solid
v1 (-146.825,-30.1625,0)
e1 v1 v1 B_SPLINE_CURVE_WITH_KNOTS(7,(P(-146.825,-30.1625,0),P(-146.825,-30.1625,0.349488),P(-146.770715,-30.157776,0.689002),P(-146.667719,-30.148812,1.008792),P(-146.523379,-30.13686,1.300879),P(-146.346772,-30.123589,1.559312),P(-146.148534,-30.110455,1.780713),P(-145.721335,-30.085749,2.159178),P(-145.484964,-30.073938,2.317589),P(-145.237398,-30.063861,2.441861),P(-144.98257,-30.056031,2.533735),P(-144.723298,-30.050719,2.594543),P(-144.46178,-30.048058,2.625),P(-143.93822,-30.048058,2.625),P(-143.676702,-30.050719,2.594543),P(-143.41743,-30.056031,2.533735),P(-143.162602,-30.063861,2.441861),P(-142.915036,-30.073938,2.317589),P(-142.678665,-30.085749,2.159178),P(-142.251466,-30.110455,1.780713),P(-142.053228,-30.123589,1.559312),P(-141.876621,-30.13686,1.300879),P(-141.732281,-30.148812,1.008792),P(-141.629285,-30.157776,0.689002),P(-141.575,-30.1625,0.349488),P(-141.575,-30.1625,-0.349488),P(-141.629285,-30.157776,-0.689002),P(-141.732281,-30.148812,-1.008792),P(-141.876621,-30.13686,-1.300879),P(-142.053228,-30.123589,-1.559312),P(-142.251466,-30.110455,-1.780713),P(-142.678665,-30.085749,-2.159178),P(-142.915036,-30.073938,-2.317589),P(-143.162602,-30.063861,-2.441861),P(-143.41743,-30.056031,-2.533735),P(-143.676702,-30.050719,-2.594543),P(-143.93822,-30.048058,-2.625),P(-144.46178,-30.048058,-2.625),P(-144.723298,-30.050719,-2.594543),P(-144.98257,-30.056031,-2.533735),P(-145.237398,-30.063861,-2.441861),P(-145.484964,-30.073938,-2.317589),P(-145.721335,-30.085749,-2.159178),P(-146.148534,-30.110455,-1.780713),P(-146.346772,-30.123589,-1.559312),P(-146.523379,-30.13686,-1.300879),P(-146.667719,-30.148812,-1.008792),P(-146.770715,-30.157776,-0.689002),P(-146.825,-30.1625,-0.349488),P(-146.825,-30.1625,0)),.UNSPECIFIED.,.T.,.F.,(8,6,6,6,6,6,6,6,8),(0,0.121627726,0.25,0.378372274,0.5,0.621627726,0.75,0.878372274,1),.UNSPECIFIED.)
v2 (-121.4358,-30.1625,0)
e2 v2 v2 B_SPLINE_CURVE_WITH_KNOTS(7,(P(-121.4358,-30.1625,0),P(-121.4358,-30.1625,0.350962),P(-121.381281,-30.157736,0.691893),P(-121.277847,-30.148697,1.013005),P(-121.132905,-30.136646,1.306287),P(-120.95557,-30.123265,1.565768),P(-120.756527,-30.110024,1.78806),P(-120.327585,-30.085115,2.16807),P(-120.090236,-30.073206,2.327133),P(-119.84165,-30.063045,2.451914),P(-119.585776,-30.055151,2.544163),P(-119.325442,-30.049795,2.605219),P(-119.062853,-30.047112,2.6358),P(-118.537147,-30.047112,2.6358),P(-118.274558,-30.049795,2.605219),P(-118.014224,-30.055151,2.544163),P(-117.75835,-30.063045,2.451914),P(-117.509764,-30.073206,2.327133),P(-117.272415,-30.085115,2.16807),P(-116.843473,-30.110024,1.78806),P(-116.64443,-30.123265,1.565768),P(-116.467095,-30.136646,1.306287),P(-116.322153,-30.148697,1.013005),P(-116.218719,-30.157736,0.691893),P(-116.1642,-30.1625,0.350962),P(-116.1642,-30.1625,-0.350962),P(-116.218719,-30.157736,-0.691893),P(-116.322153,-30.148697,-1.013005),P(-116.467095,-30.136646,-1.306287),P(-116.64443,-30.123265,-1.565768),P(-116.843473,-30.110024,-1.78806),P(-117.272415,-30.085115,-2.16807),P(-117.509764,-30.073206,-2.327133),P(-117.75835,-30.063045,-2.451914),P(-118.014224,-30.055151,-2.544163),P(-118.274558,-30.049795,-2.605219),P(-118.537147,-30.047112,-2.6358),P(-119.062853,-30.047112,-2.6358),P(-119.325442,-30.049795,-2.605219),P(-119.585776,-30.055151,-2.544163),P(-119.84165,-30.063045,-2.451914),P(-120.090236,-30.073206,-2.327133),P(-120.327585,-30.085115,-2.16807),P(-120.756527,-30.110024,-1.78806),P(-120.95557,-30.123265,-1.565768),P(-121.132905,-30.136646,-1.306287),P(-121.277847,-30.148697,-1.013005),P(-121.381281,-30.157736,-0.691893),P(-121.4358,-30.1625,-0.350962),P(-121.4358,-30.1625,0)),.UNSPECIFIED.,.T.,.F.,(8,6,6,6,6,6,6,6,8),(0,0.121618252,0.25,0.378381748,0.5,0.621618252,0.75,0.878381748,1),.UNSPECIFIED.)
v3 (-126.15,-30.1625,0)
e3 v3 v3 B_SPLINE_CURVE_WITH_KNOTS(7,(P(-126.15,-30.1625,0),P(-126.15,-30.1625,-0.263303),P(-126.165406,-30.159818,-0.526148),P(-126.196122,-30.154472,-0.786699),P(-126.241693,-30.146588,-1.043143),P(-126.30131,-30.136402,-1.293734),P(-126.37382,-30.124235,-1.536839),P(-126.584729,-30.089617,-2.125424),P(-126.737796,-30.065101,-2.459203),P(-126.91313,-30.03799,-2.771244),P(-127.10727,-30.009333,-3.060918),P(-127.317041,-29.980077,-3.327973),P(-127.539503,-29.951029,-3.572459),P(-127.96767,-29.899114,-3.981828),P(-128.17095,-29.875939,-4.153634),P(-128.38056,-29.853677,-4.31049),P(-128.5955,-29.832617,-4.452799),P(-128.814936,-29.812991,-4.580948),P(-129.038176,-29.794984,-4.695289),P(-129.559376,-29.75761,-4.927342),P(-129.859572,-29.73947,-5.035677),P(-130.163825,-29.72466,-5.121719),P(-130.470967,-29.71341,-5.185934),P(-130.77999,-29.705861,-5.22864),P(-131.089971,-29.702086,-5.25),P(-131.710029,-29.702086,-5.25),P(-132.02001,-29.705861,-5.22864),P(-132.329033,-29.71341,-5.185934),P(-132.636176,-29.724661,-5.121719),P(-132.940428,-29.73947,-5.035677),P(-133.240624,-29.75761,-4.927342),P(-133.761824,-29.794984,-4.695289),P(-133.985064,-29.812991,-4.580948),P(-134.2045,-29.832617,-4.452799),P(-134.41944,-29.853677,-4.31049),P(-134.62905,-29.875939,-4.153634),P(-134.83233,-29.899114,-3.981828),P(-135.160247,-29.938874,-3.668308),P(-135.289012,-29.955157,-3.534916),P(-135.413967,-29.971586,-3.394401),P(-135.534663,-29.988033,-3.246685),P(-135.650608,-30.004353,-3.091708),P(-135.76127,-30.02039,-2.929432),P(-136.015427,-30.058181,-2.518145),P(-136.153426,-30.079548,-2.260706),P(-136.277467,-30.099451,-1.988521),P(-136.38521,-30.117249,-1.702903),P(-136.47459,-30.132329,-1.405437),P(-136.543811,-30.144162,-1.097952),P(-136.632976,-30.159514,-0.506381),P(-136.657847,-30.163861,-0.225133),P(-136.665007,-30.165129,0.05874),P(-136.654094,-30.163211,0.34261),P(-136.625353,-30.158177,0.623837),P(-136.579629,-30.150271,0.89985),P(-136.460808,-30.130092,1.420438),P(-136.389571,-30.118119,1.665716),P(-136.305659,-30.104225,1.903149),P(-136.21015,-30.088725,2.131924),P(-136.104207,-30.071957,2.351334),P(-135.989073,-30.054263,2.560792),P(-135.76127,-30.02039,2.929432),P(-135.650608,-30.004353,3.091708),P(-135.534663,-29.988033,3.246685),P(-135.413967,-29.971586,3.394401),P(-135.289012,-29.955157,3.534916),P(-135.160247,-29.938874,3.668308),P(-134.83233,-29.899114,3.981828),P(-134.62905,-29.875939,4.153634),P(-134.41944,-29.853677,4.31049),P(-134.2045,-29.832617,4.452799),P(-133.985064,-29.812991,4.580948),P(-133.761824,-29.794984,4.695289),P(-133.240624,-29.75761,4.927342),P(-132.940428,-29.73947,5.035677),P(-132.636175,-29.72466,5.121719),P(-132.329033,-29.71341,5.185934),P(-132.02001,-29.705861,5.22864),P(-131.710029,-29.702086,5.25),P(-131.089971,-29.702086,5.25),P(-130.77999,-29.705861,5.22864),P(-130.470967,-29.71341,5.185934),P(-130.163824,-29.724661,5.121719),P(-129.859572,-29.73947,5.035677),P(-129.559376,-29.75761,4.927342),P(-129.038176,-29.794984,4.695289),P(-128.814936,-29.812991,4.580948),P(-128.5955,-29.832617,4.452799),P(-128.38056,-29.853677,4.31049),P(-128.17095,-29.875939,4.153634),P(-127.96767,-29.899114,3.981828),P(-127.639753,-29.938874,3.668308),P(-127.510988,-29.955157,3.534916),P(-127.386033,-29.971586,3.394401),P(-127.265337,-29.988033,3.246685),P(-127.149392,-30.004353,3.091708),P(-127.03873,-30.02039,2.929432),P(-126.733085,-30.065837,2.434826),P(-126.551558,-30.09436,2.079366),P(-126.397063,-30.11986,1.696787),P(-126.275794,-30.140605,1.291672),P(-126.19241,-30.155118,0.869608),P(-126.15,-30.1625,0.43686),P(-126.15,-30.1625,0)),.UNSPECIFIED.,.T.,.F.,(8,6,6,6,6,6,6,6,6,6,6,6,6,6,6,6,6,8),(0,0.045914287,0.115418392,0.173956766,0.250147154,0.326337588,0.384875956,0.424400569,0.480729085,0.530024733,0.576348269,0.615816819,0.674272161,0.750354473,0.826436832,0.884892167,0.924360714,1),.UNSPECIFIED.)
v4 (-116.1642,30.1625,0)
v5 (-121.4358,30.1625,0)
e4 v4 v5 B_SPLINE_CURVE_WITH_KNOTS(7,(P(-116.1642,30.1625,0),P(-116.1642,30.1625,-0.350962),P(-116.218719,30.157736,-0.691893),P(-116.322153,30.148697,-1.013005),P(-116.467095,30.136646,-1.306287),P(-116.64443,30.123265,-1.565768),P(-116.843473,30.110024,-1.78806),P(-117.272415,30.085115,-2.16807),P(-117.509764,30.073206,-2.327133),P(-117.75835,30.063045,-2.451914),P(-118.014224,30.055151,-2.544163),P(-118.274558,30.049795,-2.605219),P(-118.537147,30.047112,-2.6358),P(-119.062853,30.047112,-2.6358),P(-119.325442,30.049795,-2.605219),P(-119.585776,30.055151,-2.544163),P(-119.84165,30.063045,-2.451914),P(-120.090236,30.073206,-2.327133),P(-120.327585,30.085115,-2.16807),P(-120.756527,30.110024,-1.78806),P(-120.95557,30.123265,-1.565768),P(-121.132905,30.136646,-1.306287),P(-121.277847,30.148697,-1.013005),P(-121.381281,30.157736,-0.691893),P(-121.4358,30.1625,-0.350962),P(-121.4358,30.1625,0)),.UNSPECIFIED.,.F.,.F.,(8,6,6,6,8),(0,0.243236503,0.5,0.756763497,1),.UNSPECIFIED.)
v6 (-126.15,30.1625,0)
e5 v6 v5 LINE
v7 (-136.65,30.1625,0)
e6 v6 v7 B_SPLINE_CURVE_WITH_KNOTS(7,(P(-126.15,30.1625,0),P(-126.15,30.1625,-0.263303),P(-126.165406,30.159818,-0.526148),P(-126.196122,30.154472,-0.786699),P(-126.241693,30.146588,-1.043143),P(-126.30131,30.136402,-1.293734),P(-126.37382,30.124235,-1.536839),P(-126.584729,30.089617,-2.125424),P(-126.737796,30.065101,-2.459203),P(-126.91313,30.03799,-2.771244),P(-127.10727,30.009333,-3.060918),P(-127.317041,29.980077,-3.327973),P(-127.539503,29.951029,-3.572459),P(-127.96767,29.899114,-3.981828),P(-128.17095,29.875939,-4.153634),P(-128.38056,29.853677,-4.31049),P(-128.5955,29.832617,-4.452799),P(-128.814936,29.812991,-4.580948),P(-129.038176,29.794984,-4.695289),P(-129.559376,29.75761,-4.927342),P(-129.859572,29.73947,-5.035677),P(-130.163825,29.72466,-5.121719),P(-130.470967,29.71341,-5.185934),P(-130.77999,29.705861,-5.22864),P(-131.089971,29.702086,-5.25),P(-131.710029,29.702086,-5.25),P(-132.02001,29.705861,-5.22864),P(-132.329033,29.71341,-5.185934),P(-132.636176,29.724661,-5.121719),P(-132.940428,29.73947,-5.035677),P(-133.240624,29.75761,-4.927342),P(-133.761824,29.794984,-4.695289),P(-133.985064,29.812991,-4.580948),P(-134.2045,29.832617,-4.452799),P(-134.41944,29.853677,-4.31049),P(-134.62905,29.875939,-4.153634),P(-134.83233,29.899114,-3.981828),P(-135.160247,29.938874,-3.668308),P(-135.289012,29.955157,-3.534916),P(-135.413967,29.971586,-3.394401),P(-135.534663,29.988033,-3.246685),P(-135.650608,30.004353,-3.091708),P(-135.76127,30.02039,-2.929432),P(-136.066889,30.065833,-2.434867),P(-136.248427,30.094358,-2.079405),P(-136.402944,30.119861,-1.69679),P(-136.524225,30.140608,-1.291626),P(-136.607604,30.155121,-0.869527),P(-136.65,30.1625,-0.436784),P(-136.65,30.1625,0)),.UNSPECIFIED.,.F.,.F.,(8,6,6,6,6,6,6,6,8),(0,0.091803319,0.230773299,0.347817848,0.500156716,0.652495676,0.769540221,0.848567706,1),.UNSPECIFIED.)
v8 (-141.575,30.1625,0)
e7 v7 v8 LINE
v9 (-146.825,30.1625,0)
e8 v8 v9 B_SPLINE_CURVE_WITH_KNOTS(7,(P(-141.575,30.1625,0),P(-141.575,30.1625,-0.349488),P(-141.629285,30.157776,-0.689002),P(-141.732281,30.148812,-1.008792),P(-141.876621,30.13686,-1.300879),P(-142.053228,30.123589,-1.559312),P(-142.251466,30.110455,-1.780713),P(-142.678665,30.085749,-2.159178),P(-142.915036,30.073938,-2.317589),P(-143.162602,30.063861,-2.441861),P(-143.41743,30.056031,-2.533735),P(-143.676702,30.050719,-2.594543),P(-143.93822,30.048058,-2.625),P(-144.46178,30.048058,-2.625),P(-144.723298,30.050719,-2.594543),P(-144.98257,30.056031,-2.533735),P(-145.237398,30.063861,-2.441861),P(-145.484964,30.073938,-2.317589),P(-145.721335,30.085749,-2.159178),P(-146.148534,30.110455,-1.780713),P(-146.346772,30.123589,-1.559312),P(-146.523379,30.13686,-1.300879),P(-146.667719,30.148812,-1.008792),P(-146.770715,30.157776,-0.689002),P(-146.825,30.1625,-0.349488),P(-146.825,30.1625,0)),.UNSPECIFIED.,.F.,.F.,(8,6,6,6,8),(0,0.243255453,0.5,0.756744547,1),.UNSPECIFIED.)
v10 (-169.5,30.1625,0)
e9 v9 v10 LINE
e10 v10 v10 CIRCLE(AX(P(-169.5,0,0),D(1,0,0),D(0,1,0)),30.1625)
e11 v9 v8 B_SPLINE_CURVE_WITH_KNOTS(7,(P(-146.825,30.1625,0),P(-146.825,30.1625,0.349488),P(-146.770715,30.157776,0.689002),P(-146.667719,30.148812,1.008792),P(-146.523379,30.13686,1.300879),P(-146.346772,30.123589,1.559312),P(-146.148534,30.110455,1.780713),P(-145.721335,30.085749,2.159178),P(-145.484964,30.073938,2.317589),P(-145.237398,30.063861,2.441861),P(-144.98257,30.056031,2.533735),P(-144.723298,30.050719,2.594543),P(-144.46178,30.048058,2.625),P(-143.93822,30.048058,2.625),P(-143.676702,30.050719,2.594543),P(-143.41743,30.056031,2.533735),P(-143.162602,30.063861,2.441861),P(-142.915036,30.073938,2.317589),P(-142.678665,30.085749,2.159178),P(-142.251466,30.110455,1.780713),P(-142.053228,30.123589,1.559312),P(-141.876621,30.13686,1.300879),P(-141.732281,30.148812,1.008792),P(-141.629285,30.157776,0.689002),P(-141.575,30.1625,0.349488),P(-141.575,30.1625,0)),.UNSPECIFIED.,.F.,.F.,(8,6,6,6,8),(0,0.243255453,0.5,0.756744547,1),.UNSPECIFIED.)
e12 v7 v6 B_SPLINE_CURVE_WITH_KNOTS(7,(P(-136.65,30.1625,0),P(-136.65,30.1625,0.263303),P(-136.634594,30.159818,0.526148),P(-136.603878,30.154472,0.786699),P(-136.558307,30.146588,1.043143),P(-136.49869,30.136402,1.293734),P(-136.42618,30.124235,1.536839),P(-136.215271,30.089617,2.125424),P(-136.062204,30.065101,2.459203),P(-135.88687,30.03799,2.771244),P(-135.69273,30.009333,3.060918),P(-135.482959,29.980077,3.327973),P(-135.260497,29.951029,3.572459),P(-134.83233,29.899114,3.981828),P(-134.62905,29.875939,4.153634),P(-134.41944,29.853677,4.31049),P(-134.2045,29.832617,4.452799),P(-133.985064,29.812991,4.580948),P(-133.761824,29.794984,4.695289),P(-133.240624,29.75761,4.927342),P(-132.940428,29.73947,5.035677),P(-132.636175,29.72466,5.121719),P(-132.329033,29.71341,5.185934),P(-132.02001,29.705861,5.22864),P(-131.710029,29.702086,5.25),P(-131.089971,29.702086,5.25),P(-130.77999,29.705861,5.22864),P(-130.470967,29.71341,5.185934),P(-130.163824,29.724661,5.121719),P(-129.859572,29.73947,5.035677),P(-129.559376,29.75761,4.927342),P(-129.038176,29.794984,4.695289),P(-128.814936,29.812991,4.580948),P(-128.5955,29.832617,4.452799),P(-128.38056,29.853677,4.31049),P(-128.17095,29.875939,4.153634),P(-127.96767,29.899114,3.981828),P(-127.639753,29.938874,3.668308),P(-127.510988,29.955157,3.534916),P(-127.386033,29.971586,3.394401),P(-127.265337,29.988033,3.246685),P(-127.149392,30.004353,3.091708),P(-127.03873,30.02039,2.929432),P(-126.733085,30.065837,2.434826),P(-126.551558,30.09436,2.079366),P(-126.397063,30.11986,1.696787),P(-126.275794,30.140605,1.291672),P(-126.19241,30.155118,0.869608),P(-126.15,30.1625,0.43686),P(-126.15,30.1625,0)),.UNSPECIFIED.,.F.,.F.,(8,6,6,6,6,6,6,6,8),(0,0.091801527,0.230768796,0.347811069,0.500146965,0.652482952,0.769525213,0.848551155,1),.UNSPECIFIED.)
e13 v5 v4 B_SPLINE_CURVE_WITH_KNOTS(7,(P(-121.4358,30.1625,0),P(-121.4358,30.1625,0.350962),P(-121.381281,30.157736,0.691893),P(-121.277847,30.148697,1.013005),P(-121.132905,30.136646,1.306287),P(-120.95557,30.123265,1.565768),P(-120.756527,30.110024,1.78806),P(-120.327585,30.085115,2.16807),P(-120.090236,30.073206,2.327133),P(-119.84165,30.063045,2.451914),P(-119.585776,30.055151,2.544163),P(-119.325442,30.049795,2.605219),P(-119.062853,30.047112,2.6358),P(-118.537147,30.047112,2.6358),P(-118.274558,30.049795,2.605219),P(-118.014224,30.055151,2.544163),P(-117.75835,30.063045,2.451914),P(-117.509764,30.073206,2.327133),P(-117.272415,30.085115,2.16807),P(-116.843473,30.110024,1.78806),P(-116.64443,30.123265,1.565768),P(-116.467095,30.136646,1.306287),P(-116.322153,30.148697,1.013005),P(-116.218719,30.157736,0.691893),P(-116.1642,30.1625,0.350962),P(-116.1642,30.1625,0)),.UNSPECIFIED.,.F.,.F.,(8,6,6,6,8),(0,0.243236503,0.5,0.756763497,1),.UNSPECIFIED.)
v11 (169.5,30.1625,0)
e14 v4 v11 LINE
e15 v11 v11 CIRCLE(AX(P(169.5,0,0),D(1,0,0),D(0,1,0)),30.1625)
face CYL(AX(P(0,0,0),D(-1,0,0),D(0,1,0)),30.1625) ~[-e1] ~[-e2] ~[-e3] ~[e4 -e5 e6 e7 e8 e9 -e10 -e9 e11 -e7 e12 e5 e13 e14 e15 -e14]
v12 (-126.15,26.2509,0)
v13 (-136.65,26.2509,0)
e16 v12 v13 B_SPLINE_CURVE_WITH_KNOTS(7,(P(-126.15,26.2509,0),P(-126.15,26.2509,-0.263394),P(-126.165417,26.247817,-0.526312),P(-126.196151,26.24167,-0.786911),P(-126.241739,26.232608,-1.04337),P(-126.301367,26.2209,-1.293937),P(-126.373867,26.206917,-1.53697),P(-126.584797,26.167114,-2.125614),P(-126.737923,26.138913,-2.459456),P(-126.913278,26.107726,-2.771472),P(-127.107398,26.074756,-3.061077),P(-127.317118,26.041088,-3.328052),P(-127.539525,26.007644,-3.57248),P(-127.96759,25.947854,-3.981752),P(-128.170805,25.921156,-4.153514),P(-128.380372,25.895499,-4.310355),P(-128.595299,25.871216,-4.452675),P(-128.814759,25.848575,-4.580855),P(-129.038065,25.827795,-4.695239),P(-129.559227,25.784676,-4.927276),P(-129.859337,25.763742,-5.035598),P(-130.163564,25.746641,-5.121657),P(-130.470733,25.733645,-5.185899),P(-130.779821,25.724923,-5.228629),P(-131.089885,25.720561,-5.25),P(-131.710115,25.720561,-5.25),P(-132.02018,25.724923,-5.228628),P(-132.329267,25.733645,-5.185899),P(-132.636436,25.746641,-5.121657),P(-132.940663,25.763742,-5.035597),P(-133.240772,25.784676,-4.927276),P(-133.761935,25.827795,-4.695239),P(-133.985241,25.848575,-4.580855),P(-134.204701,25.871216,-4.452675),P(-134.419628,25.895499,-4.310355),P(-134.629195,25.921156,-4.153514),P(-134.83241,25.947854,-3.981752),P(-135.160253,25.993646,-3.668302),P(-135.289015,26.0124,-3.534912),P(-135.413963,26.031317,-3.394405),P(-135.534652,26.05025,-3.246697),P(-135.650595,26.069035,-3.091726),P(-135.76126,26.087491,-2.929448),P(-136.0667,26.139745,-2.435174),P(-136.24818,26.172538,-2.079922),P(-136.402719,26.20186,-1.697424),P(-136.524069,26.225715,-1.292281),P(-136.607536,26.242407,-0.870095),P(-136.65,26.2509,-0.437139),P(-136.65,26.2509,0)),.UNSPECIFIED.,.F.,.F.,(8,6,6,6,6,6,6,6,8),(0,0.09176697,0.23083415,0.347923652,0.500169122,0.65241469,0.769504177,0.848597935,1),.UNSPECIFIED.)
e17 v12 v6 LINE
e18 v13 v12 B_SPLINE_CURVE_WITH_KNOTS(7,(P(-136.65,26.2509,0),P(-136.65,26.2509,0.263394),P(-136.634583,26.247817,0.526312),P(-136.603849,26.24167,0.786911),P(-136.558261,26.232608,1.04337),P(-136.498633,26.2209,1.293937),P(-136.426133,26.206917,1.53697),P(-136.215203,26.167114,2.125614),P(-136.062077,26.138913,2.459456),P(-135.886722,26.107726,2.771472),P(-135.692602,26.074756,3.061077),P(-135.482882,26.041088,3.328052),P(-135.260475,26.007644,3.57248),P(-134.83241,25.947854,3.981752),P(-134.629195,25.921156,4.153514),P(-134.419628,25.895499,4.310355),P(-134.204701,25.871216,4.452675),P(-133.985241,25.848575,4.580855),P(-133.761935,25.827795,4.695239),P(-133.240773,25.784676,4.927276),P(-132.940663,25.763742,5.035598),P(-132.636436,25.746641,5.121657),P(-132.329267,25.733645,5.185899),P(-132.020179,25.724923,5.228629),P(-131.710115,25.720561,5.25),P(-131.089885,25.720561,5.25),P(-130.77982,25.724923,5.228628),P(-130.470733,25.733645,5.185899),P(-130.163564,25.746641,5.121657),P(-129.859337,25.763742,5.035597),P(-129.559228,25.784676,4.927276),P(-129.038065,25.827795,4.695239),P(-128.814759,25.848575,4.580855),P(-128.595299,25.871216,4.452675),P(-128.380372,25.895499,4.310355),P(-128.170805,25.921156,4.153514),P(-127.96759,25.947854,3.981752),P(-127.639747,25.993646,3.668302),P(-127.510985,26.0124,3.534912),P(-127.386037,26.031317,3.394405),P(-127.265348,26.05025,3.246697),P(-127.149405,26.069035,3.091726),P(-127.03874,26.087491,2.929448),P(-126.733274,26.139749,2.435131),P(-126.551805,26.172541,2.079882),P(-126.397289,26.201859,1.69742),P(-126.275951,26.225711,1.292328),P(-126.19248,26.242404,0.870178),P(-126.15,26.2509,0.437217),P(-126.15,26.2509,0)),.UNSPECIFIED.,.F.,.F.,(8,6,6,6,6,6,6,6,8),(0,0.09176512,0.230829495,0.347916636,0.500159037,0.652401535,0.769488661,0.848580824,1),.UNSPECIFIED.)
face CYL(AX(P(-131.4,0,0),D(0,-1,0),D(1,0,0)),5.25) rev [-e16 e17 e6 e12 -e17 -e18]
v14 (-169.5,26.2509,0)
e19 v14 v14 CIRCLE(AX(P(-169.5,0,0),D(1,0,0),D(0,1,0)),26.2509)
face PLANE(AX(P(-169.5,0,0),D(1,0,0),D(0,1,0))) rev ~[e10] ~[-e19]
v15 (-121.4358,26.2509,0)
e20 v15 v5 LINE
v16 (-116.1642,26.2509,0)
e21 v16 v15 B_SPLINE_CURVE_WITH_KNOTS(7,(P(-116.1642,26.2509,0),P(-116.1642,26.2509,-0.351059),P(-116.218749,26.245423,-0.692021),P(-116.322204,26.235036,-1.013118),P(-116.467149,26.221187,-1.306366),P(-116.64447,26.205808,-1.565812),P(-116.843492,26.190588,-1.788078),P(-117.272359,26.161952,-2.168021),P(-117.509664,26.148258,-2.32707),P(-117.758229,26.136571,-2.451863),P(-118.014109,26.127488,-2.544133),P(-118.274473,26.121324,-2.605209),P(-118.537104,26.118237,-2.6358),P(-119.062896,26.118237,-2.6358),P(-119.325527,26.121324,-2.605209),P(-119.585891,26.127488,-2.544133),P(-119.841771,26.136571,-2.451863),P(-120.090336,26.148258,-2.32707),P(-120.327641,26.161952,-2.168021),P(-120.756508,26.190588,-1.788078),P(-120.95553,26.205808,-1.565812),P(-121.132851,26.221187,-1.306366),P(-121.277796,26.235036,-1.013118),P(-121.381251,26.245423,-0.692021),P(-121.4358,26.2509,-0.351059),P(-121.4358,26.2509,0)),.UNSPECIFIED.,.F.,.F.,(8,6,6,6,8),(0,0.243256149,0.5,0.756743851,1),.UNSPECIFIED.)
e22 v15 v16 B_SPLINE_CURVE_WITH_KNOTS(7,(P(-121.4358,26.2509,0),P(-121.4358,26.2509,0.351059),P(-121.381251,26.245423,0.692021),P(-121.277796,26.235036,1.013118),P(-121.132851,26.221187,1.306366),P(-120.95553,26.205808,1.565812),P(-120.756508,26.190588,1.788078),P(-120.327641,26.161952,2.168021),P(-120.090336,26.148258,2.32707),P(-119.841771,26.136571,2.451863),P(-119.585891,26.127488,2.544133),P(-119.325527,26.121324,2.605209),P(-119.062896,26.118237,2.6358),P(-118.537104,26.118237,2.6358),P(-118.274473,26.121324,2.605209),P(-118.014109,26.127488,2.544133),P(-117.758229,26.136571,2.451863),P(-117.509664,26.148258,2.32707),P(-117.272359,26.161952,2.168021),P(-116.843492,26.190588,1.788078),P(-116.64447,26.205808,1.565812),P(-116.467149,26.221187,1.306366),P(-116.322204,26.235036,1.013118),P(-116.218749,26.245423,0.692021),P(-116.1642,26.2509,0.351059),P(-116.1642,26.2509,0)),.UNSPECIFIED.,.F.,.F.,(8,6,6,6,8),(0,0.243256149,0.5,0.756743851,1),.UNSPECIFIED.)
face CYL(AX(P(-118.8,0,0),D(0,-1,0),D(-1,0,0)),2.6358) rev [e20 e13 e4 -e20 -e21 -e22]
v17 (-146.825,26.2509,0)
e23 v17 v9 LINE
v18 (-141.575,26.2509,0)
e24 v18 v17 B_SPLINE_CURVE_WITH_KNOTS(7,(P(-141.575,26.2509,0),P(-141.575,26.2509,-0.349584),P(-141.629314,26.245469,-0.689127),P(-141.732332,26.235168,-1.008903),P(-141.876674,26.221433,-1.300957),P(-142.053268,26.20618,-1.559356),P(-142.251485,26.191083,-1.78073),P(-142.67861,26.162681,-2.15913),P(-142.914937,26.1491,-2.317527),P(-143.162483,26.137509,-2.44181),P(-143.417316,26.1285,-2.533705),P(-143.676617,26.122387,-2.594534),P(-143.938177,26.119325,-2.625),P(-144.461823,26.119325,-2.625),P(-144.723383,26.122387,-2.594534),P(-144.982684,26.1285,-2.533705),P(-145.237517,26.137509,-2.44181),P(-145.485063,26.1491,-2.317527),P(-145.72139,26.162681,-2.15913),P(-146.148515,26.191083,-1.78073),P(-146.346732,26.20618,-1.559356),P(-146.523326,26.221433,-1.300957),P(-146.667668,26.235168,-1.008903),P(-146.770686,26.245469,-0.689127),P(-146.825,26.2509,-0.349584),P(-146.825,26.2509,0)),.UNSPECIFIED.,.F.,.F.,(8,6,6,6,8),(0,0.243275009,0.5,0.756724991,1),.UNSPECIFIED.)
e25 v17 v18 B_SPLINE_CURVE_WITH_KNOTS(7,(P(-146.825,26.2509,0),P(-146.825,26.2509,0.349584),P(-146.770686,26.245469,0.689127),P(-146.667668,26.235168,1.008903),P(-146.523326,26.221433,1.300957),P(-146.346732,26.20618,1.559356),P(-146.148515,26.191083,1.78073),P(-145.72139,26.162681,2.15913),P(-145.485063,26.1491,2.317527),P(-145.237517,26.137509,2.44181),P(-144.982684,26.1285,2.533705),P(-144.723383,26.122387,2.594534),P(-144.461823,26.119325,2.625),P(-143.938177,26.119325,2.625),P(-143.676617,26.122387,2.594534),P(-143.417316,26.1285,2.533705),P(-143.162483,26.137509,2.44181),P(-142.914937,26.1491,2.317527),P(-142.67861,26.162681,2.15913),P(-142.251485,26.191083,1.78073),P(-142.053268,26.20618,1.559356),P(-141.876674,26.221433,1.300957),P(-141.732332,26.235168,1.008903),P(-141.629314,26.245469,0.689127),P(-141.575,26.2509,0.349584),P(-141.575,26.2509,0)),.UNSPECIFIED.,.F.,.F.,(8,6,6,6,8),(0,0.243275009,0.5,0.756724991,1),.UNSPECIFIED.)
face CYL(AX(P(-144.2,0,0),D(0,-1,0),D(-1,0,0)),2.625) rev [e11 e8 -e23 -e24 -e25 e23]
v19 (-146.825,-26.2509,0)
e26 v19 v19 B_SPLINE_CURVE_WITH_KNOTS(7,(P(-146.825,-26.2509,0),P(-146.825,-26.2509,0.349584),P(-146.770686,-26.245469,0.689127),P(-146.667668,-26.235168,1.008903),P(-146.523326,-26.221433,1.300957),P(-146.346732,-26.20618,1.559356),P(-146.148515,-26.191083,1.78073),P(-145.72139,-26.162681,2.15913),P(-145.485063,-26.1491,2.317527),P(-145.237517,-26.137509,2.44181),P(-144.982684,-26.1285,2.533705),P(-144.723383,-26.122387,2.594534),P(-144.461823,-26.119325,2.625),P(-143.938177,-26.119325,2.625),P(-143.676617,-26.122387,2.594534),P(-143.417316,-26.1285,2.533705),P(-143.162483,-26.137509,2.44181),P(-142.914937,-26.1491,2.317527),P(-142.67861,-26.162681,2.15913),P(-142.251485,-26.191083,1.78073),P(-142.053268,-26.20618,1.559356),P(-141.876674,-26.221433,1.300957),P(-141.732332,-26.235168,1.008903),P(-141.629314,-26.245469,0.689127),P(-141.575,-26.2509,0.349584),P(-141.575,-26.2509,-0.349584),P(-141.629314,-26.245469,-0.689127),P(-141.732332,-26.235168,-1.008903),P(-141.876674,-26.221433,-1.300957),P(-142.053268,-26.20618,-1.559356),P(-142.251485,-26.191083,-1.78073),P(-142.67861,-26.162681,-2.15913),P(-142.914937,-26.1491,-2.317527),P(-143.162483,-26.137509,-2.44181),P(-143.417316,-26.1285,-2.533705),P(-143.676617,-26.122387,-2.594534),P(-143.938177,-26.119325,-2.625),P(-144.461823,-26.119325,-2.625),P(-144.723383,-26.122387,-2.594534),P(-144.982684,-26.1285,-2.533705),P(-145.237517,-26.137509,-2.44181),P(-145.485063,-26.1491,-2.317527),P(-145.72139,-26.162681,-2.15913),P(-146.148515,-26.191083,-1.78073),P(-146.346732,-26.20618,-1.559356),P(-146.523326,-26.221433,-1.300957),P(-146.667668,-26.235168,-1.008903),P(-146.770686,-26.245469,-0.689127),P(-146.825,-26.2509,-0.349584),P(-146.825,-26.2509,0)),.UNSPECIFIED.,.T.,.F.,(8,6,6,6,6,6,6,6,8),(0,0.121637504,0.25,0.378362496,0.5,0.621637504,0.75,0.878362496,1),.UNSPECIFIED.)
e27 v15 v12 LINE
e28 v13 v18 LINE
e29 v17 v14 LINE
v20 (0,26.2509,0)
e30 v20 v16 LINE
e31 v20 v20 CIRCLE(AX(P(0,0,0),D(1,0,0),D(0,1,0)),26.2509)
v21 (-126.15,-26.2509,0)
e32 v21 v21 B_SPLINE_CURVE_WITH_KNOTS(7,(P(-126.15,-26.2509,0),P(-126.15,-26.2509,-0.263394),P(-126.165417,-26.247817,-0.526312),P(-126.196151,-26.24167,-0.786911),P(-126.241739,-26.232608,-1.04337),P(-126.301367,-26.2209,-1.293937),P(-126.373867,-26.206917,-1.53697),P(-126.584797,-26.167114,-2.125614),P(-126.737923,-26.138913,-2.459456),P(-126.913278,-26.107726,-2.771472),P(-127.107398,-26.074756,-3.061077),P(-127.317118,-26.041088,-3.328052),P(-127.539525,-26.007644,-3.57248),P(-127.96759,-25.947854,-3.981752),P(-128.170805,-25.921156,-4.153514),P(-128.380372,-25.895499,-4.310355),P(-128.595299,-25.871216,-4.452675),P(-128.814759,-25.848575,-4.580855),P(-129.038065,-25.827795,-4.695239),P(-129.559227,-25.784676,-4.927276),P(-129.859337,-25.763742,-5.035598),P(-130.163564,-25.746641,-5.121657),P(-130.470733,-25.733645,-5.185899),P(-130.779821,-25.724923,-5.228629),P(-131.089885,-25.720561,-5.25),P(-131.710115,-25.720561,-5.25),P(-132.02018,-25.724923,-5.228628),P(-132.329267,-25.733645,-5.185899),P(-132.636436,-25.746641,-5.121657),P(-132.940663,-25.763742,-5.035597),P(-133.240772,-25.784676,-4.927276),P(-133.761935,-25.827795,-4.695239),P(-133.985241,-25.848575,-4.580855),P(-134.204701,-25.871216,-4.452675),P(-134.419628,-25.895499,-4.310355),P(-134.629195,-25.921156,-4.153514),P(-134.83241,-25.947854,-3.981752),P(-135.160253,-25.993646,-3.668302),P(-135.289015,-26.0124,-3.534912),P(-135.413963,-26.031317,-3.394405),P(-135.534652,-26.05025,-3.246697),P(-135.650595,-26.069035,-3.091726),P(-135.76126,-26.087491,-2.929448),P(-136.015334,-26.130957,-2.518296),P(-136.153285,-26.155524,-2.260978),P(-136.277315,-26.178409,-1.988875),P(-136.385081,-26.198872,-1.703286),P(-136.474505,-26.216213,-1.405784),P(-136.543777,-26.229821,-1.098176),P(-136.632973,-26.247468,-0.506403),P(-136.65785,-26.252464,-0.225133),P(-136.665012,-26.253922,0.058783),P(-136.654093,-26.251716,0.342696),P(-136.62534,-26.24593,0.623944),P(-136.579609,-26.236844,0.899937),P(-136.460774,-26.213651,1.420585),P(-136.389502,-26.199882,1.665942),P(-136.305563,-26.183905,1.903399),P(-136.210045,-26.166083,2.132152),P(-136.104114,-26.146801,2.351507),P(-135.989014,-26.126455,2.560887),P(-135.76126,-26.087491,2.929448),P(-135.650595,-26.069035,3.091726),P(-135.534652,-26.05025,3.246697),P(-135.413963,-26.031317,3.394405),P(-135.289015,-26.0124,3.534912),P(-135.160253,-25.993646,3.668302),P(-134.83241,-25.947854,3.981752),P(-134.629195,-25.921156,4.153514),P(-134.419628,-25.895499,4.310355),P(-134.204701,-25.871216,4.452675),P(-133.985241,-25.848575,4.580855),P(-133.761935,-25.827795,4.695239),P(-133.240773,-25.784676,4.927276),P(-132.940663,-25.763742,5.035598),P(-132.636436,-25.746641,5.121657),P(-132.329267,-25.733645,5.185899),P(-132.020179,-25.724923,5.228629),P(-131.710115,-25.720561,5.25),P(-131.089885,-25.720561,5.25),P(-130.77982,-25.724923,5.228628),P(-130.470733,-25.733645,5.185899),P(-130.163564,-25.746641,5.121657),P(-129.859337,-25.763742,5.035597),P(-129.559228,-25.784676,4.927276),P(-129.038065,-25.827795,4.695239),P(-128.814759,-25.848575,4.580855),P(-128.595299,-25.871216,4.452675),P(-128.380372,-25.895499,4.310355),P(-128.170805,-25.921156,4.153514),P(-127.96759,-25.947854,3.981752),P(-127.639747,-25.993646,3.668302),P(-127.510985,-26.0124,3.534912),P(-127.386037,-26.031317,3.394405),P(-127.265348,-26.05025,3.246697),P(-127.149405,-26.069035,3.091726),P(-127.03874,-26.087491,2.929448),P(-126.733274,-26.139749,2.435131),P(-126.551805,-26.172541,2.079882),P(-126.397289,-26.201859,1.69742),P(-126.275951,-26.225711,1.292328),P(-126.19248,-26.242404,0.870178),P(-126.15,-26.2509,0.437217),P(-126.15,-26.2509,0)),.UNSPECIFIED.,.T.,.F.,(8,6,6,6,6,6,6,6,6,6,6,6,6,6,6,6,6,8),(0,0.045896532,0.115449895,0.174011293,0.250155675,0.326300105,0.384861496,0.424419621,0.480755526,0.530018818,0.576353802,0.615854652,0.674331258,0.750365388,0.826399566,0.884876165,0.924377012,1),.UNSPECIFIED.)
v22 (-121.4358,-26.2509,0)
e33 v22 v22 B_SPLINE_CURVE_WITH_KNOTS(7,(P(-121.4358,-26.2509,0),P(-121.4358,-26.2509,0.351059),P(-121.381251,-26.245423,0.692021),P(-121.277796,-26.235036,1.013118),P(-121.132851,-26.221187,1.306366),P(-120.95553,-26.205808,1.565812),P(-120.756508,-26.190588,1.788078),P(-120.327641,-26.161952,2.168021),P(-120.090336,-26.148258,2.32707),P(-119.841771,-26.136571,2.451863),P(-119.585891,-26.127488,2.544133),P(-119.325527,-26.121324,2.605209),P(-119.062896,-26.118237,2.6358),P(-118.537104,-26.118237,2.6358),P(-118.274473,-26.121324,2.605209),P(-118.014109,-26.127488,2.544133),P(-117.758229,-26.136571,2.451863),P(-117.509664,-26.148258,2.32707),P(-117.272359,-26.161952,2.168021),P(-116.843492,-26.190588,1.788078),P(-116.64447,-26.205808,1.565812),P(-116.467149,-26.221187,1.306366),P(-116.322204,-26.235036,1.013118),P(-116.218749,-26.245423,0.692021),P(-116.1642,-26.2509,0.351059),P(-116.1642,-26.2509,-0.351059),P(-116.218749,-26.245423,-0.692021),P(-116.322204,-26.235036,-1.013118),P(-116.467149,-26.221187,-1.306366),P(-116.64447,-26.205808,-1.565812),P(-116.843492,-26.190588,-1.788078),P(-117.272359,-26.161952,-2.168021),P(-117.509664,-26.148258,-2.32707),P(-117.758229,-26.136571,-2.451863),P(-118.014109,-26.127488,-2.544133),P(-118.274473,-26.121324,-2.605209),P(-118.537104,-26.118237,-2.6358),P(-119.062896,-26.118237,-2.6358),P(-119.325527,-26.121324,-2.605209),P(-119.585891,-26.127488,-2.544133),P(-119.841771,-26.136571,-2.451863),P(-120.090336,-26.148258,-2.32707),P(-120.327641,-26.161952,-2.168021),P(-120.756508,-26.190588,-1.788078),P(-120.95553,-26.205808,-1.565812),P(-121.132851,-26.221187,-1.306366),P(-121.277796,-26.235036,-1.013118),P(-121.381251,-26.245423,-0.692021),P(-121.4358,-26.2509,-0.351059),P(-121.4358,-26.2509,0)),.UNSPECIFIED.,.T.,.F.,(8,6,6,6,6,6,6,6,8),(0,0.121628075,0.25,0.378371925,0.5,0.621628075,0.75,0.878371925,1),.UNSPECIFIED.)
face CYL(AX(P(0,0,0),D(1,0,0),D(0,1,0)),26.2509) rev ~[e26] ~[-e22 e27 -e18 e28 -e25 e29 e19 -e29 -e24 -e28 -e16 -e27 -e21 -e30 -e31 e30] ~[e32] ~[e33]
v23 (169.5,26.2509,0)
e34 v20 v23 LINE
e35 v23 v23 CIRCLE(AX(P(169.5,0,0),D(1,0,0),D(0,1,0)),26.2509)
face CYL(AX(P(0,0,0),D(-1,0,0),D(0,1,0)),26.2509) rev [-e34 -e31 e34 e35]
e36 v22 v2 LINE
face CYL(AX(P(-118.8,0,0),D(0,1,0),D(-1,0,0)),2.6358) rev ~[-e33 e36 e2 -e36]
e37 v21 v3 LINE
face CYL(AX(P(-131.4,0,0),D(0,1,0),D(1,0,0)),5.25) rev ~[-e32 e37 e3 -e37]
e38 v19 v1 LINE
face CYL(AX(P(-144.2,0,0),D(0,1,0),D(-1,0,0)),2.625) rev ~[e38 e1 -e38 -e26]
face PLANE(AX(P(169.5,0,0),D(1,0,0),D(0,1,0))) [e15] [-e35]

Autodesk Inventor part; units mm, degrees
ref_plane "YZ Plane" through (0, 0, 0) normal (1, 0, 0) x (0, 1, 0)
ref_plane "XZ Plane" through (0, 0, 0) normal (0, 1, 0) x (-1, 0, 0)
ref_plane "XY Plane" through (0, 0, 0) normal (0, 0, 1) x (1, 0, 0)
sketch "Sketch1" plane through (0, 0, 0) normal (1, 0, 0) x (0, 1, 0)
  circle A0 centre (0, 0) radius 26.2509
  circle A1 centre (0, 0) radius 30.1625
  dimension "d0" = 52.5018
  dimension "d1" = 3.9116
extrude "Extrusion1" add sketch "Sketch1" along normal mid plane 339
sketch "Sketch2" plane through (0, 0, 0) normal (0, 1, 0) x (1, 0, 0)
  circle A0 centre (-131.4, 0) radius 5.25
  line L0 (-169.5, -26.2509) -> (-169.5, 26.2509) projected
  point P0 (0, 0)
  dimension "d4" = 10.5
  dimension "d5" = 38.1
extrude "Extrusion2" cut sketch "Sketch2" along normal through all both and the other way through all
sketch "Sketch3" plane through (0, 0, 0) normal (0, 1, 0) x (-1, 0, 0)
  circle A0 centre (144.2, 0) radius 2.625
  circle A1 centre (118.8, 0) radius 2.6358
  line L0 (0, 0) -> (162.823, 0) construction
  line L1 (131.5, 0) -> (131.5, -16.0563) construction
  line L2 (169.5, 26.2509) -> (169.5, -26.2509) construction
  dimension "d8" = 5.25
  dimension "d9" = 25.4
  dimension "d10" = 38
extrude "Extrusion3" cut sketch "Sketch3" along normal through all both and the other way through all
properties part number "Arm Segment 2" material "PVC-Piping"
